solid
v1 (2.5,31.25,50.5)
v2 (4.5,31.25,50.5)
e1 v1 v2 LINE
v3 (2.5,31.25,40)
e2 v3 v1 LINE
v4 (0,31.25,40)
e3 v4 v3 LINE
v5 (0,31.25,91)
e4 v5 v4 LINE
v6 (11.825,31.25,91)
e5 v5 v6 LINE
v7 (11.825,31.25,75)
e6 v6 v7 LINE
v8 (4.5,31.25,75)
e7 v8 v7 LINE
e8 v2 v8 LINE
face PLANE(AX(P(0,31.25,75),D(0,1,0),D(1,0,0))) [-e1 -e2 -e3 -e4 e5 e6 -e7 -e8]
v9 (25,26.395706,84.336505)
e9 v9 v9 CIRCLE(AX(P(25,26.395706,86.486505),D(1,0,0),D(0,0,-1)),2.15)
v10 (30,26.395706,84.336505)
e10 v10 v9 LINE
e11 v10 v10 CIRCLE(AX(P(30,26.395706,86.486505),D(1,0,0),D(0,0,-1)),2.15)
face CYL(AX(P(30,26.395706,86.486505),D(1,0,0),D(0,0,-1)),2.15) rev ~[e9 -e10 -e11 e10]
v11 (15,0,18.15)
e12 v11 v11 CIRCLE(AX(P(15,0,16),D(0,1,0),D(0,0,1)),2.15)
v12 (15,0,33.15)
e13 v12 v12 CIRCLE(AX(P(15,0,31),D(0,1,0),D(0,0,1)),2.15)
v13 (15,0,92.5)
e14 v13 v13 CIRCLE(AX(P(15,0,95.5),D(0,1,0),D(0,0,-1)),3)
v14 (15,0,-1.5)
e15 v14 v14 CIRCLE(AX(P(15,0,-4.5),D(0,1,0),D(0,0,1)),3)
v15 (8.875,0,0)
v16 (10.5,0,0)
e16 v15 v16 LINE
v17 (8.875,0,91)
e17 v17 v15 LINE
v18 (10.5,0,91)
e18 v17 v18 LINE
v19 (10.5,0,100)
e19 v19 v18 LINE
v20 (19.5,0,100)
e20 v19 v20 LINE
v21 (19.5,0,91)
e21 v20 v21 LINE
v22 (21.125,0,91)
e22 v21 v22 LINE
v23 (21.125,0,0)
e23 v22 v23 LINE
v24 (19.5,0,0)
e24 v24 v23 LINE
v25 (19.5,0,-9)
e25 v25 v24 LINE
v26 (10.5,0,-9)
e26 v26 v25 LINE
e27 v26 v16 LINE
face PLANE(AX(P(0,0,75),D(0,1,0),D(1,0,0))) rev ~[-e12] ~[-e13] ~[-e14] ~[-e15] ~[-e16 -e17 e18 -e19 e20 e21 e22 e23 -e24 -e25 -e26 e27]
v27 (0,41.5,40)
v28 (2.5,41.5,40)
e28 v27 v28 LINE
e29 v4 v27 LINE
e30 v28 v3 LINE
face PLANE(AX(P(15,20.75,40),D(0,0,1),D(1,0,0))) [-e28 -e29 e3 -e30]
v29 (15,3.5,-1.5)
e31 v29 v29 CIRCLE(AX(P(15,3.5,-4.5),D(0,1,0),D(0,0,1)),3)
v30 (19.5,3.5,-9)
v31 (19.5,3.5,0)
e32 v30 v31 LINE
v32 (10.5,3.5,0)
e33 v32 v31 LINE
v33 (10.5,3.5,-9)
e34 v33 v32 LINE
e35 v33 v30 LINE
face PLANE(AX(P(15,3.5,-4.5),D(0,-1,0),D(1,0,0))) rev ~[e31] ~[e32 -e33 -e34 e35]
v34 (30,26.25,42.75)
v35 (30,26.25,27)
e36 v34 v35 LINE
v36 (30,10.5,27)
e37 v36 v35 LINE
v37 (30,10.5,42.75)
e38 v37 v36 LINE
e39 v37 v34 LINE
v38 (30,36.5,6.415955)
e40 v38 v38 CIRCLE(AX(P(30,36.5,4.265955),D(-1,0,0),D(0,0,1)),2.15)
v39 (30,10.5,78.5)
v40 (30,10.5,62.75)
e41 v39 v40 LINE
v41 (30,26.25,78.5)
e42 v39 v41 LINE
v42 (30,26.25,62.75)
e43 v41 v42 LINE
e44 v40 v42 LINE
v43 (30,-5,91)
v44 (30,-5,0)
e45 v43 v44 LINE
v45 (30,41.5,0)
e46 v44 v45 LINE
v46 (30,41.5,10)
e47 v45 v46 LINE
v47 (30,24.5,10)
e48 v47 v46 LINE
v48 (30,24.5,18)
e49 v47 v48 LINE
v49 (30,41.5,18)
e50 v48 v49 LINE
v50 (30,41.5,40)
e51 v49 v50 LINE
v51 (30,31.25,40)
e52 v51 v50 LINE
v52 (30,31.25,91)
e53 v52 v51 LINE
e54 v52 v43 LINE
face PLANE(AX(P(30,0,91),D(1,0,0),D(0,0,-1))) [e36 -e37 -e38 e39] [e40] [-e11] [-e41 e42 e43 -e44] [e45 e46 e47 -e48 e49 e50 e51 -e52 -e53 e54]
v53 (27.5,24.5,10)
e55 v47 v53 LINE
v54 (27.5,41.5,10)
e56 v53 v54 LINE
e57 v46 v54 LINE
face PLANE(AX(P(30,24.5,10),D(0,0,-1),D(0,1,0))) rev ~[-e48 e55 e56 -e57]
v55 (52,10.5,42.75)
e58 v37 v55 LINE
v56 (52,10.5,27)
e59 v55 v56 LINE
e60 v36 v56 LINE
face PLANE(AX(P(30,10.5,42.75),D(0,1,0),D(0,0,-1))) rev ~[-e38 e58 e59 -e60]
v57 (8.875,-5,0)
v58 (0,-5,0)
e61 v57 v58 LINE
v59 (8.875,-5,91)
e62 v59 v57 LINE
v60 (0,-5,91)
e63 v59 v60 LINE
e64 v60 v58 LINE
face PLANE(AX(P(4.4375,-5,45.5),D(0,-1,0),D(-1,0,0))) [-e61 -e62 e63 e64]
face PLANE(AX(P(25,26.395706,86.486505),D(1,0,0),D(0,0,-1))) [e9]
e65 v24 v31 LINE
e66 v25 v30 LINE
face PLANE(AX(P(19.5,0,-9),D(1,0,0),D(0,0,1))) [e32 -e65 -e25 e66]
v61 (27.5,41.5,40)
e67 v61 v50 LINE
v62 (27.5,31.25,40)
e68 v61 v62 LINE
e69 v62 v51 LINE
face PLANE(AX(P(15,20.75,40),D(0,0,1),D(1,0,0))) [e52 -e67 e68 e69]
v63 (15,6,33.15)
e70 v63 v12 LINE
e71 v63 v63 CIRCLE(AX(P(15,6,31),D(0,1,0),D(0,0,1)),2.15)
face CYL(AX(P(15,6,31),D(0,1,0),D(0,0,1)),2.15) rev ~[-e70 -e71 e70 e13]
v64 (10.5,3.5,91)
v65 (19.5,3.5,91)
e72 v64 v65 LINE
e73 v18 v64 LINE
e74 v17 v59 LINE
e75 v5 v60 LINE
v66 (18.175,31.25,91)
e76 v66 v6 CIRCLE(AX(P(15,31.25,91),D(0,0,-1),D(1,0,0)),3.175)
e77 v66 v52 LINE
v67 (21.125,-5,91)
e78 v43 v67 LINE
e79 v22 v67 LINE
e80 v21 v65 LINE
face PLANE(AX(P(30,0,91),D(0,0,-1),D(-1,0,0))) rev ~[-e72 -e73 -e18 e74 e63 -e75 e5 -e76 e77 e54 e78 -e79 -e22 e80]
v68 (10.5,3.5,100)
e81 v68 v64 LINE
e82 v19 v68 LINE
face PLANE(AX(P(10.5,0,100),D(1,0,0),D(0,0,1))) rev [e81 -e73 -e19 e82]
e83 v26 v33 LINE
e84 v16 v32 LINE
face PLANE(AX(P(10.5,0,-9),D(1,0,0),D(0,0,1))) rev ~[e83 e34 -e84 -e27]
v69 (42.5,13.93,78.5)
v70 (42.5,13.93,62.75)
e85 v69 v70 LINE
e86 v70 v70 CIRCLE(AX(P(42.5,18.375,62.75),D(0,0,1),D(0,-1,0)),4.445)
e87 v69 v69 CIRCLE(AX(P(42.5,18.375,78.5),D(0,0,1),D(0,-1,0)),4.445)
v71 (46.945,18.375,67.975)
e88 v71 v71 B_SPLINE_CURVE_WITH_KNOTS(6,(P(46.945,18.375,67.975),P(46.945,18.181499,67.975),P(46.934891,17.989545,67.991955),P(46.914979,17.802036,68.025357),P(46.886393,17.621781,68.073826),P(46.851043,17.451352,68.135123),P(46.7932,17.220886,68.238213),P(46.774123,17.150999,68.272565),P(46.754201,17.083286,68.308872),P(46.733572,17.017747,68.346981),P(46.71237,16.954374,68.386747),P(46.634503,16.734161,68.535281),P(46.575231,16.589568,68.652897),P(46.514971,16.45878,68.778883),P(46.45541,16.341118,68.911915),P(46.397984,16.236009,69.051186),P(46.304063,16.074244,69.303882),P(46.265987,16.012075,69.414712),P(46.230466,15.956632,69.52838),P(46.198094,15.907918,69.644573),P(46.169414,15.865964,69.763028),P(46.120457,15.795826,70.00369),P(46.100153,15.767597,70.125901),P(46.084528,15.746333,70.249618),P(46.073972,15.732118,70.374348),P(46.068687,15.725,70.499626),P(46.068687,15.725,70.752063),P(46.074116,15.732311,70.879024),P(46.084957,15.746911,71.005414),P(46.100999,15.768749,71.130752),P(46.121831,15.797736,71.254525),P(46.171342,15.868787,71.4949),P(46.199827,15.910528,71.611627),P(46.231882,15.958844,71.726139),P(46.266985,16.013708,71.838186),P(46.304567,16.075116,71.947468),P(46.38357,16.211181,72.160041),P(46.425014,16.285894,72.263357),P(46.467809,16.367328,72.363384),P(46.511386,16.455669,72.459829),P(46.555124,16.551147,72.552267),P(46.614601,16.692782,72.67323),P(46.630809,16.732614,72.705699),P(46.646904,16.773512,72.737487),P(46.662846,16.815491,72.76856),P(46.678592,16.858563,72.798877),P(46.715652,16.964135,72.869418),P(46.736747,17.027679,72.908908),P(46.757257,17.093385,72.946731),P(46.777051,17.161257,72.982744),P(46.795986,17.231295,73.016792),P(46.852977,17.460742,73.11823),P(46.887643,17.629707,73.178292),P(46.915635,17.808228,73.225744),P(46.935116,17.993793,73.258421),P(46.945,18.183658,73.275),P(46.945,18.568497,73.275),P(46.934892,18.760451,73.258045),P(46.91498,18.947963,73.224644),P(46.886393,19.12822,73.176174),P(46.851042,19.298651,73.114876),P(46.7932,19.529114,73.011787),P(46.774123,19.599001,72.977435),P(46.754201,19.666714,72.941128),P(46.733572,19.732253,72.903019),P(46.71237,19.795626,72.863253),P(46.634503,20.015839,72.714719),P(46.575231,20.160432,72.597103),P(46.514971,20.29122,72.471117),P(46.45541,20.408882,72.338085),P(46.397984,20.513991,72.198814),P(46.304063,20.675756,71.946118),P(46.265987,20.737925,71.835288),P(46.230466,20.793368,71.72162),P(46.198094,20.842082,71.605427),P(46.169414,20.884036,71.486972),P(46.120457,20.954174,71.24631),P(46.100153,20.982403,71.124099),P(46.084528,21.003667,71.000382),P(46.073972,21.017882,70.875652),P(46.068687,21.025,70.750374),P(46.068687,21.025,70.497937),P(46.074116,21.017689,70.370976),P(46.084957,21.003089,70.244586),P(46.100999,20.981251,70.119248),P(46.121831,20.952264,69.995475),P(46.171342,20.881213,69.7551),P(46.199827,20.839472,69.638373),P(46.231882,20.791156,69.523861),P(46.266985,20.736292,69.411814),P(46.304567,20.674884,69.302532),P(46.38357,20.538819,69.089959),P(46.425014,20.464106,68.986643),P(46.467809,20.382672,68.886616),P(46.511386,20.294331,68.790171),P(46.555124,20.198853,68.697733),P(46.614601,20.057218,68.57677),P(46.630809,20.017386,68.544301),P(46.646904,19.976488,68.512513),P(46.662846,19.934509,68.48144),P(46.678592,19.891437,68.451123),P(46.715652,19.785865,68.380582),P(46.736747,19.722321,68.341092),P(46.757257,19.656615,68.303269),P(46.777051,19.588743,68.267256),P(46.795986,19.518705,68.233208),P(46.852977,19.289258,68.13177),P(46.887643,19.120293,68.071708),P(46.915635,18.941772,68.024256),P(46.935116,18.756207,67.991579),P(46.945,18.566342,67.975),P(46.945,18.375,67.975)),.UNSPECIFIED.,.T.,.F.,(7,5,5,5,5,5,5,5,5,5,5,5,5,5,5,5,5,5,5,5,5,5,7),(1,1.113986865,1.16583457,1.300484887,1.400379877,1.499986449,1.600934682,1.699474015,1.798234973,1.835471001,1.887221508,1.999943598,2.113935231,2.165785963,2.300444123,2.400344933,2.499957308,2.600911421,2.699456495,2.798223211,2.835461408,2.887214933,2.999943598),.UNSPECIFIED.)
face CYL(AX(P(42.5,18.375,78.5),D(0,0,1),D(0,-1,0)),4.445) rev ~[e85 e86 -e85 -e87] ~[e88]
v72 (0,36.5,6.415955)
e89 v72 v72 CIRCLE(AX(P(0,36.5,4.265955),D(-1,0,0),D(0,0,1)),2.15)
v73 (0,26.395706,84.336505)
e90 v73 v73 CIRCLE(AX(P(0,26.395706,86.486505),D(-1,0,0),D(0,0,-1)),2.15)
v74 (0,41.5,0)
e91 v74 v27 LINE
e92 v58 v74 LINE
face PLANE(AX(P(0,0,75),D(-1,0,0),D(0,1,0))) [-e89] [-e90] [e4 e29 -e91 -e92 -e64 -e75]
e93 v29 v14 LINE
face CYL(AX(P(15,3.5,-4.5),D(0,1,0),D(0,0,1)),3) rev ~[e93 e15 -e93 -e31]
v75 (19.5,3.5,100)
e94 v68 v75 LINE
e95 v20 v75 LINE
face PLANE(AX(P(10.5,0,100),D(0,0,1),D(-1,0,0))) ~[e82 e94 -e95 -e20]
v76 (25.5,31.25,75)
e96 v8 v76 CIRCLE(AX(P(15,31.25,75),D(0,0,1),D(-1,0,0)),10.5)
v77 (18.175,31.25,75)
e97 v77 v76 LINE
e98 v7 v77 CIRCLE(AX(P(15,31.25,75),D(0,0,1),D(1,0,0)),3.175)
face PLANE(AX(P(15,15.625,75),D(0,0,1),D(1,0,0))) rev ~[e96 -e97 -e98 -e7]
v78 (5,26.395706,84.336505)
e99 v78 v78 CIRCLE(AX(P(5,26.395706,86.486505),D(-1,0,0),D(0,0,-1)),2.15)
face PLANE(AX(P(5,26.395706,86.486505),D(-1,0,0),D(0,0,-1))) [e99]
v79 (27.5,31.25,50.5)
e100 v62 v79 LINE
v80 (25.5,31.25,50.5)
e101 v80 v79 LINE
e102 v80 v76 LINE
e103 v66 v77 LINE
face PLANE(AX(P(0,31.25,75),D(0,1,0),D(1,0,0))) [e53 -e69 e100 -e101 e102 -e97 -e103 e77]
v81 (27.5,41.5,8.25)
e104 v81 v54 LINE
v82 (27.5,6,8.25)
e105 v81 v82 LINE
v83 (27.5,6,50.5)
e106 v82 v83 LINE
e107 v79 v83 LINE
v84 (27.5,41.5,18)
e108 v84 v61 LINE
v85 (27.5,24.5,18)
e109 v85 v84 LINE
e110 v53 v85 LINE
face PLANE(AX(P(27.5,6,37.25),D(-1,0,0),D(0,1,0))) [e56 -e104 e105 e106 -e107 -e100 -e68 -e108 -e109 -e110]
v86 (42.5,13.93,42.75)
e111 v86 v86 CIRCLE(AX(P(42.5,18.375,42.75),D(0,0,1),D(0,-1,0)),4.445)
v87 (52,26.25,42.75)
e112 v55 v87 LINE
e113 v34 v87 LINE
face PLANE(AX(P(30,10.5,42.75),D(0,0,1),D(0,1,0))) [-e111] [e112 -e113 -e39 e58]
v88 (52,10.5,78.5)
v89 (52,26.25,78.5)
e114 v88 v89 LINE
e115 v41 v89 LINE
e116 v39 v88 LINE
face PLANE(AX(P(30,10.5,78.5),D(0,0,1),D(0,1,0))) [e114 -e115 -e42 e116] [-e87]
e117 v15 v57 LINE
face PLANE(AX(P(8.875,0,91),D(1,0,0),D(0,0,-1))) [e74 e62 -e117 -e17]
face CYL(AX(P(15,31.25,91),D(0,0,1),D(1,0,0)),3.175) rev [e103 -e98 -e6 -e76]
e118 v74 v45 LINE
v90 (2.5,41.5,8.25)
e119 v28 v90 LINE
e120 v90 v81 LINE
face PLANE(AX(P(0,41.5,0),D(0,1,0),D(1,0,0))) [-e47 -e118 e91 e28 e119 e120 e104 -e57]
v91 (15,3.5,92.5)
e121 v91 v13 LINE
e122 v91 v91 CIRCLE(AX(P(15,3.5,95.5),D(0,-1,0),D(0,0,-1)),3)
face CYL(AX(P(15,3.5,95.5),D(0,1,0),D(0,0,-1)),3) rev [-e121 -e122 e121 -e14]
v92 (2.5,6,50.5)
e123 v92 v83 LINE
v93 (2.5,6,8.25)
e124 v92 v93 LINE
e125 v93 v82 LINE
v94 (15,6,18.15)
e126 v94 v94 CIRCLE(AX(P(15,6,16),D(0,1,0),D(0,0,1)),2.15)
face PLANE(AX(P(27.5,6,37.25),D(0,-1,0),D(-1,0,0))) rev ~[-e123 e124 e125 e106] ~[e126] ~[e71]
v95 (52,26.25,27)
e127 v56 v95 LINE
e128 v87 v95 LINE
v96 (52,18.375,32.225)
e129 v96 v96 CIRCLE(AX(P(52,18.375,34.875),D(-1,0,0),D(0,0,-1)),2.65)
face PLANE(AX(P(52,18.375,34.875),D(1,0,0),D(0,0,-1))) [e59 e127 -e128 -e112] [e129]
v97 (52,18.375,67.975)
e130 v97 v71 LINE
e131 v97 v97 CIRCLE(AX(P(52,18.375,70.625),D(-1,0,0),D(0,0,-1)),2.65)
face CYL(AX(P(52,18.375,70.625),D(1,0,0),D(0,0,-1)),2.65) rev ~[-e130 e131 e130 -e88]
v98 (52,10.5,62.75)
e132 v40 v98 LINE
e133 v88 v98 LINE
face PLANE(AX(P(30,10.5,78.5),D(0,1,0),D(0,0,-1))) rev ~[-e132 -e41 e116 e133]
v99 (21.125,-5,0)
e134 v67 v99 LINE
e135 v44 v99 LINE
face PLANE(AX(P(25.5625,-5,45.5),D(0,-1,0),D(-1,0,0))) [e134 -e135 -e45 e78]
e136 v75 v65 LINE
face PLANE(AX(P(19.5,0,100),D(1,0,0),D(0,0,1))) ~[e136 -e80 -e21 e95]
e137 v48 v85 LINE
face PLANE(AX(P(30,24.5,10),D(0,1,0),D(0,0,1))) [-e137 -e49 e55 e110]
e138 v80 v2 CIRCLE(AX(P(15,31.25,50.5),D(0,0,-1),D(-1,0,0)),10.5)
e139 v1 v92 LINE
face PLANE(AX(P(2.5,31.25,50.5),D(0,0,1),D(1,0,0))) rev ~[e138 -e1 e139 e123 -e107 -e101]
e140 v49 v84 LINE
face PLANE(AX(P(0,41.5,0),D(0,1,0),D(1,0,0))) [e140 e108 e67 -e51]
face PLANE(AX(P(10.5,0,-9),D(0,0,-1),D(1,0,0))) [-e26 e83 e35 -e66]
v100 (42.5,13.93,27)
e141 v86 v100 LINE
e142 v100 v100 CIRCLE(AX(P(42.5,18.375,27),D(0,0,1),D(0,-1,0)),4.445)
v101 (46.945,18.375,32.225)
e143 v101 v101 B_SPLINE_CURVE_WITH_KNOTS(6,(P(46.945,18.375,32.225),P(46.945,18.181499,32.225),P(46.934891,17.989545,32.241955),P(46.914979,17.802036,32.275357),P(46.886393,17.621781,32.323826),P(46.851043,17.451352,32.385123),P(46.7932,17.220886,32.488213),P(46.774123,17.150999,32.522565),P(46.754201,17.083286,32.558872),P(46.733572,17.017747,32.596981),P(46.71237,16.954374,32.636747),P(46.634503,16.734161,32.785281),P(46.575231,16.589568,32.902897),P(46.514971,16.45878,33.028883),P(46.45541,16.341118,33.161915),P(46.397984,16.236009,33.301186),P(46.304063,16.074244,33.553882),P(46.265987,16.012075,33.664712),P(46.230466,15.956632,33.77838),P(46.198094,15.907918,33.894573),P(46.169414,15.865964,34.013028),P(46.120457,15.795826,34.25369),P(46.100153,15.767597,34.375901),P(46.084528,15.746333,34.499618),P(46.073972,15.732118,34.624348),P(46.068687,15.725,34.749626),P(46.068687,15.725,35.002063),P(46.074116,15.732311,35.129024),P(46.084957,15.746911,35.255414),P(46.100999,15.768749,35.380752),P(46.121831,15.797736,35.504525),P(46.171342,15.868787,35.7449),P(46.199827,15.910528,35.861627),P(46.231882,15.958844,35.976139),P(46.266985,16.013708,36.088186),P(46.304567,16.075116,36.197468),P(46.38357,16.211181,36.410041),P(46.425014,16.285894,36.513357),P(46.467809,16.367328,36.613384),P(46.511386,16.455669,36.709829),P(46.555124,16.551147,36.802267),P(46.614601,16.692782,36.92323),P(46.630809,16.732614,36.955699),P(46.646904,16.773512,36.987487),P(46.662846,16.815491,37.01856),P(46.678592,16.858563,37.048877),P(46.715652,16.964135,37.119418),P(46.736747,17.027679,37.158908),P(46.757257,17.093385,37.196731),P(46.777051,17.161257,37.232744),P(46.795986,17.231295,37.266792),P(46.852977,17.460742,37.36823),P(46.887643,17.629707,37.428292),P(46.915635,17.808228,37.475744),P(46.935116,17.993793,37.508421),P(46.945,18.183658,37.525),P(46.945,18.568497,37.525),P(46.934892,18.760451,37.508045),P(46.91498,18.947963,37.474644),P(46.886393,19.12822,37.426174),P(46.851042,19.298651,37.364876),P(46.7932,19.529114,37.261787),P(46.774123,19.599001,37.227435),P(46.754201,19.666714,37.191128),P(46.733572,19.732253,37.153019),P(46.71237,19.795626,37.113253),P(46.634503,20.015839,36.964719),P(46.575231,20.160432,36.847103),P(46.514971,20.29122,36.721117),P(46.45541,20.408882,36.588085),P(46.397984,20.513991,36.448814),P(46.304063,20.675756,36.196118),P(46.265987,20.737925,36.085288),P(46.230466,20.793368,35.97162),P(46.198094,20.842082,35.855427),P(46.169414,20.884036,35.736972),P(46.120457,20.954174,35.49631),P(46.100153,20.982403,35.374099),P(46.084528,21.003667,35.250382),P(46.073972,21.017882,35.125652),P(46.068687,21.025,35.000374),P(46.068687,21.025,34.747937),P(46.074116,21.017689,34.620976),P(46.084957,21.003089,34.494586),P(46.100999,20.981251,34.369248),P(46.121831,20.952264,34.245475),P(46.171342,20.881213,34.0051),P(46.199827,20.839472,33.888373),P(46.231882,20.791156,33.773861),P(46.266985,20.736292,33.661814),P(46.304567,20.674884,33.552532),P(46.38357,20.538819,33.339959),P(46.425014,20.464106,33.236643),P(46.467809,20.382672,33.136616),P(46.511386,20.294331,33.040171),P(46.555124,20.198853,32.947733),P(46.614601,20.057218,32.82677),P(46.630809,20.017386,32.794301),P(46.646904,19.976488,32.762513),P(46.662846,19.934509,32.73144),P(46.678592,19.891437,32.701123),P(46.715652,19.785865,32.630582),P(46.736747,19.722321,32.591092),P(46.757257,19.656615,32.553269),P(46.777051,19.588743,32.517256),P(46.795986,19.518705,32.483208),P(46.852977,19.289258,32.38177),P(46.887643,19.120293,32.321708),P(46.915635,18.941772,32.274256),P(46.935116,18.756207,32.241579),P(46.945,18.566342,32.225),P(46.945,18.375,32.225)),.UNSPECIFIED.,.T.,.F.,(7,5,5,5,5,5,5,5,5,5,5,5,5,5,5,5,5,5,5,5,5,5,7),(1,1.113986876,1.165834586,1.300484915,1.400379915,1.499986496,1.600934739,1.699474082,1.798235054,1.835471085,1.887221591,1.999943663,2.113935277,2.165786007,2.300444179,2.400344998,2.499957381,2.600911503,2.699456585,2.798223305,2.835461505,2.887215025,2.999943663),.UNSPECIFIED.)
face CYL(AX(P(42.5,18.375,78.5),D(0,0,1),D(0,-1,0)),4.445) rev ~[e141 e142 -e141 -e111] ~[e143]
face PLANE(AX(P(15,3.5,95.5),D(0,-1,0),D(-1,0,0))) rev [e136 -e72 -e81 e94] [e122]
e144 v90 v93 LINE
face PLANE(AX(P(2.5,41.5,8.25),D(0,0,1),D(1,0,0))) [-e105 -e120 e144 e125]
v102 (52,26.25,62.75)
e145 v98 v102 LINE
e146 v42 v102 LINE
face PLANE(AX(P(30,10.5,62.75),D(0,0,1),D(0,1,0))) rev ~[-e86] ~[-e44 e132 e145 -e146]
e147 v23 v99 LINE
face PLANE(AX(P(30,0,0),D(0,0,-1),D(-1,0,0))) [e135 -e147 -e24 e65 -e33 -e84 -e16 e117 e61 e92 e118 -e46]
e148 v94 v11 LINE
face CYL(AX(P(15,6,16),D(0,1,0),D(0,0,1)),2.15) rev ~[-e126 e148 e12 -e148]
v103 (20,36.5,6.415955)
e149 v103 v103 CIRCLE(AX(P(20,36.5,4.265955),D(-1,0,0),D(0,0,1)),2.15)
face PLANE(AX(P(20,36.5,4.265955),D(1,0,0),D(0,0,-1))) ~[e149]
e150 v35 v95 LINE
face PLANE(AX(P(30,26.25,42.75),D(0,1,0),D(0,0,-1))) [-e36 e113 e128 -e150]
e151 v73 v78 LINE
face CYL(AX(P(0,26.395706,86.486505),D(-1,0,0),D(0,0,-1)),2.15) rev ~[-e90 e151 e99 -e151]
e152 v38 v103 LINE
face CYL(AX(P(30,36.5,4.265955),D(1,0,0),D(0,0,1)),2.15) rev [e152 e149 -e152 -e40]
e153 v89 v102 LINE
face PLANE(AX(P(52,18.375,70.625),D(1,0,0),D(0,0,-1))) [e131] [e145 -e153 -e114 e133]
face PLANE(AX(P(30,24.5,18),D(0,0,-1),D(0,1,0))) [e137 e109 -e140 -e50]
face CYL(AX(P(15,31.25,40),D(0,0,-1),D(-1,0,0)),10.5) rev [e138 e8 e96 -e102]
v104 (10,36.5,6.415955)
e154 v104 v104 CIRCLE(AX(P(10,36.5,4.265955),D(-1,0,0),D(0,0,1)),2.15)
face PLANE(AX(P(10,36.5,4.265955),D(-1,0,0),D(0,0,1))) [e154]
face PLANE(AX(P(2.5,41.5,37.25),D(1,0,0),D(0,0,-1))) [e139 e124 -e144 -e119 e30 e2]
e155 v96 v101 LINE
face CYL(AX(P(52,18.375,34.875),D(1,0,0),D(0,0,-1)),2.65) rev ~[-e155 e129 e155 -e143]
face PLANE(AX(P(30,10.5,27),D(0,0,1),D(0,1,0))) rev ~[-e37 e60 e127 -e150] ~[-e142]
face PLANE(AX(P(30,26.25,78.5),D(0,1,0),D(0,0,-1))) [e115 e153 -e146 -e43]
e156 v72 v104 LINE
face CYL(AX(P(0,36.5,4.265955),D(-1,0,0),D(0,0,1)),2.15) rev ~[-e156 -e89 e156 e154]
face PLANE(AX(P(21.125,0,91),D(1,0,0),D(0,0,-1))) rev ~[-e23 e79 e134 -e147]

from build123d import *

# Parameters (mm, degrees)
SKETCH1_W                = 30
SKETCH1_H                = 41.5
BOSS_EXTRUDE1_DEPTH      = 40
SKETCH2_W                = 25
SKETCH2_H                = 29
CUT_EXTRUDE1_DEPTH       = 35.5
SKETCH3_W                = 25
SKETCH3_H                = 35.5
CUT_EXTRUDE2_DEPTH       = 19
SKETCH7_W                = 9
SKETCH7_H                = 9
BOSS_EXTRUDE2_DEPTH      = 3.5
SKETCH8_R                = 3
CUT_EXTRUDE3_DEPTH       = 7
BOSS_EXTRUDE3_DEPTH      = 35
SKETCH10_W               = 30
SKETCH10_H               = 31.25
BOSS_EXTRUDE4_DEPTH      = 16
CUT_EXTRUDE4_DEPTH       = 25
SKETCH12_W               = 8
SKETCH12_H               = 17
CUT_EXTRUDE5_DEPTH       = 2.5
SKETCH13_R               = 2.15
CUT_EXTRUDE6_DEPTH       = 10
SKETCH17_W               = 15.75
SKETCH17_H               = 15.75
BOSS_EXTRUDE5_DEPTH      = 22
SKETCH18_R               = 4.445
CUT_EXTRUDE7_DEPTH       = 62.75
SKETCH19_R               = 2.15
CUT_EXTRUDE8_DEPTH       = 5
SKETCH21_R               = 2.15
CUT_EXTRUDE9_DEPTH       = 5
SKETCH23_W               = 8.875
SKETCH23_H               = 91
BOSS_EXTRUDE6_DEPTH      = 5
CUT_EXTRUDE10_REACH      = 122.109
CUT_EXTRUDE10_END_RADIUS = 4.445
SKETCH25_R               = 2.15
CUT_EXTRUDE11_DEPTH      = 119.170427817
SKETCH26_W               = 25
SKETCH26_H               = 2.5
CUT_EXTRUDE12_DEPTH      = 25.25
SKETCH27_W               = 25
SKETCH27_H               = 8
CUT_EXTRUDE13_DEPTH      = 25.25


with BuildPart() as part:
    # Sketch1 → Boss-Extrude1 (new body)
    with BuildSketch(Plane.XY):
        with Locations((15, 20.75)):
            Rectangle(SKETCH1_W, SKETCH1_H)
    extrude(amount=BOSS_EXTRUDE1_DEPTH)

    # Sketch2 → Cut-Extrude1 (cut)
    with BuildSketch(Plane(origin=(0, 41.5, 0), x_dir=(1, 0, 0), z_dir=(0, 1, 0))):
        with Locations((15, -22.75)):
            Rectangle(SKETCH2_W, SKETCH2_H)
    extrude(amount=-CUT_EXTRUDE1_DEPTH, mode=Mode.SUBTRACT)

    # Sketch3 → Cut-Extrude2 (cut)
    with BuildSketch(Plane(origin=(0, 0, 37.25), x_dir=(-1, 0, 0), z_dir=(0, 0, -1))):
        with Locations((-15, 23.75)):
            Rectangle(SKETCH3_W, SKETCH3_H)
    extrude(amount=-CUT_EXTRUDE2_DEPTH, mode=Mode.SUBTRACT)

    # Sketch7 → Boss-Extrude2 (add)
    with BuildSketch(Plane.XZ):
        with Locations((15, -4.5)):
            Rectangle(SKETCH7_W, SKETCH7_H)
    boss_extrude2 = extrude(amount=-BOSS_EXTRUDE2_DEPTH)

    # Sketch8 → Cut-Extrude3 (cut)
    with BuildSketch(Plane(origin=(0, 3.5, 0), x_dir=(1, 0, 0), z_dir=(0, 1, 0))):
        with Locations(Location((15, 4.5, 0), (0, 0, 270))):
            Circle(SKETCH8_R)
    cut_extrude3 = extrude(amount=-CUT_EXTRUDE3_DEPTH, mode=Mode.SUBTRACT)

    # Sketch9 → Boss-Extrude3 (add)
    with BuildSketch(Plane.XY.offset(40)):
        with BuildLine():
            Line((0, 0), (0, 31.25))
            Line((0, 31.25), (4.5, 31.25))
            ThreePointArc((4.5, 31.25), (15, 20.75), (25.5, 31.25))
            Line((25.5, 31.25), (30, 31.25))
            Line((30, 31.25), (30, 0))
            Line((30, 0), (0, 0))
        make_face()
    extrude(amount=BOSS_EXTRUDE3_DEPTH)

    # Sketch10 → Boss-Extrude4 (add)
    with BuildSketch(Plane.XY.offset(75)):
        with Locations((15, 15.625)):
            Rectangle(SKETCH10_W, SKETCH10_H)
    extrude(amount=BOSS_EXTRUDE4_DEPTH)

    # Mirror1: Boss-Extrude2, Cut-Extrude3 across plane
    add(boss_extrude2.mirror(Plane.XY.offset(45.5)))
    add(cut_extrude3.mirror(Plane.XY.offset(45.5)), mode=Mode.SUBTRACT)

    # Sketch11 → Cut-Extrude4 (cut)
    with BuildSketch(Plane.XY.offset(91)):
        with BuildLine():
            Line((11.825, 31.25), (18.175, 31.25))
            ThreePointArc((18.175, 31.25), (15, 28.075), (11.825, 31.25))
        make_face()
    extrude(amount=-CUT_EXTRUDE4_DEPTH, mode=Mode.SUBTRACT)

    # Sketch12 → Cut-Extrude5 (cut)
    with BuildSketch(Plane.ZY.offset(-30)):
        with Locations((14, 33)):
            Rectangle(SKETCH12_W, SKETCH12_H)
    extrude(amount=CUT_EXTRUDE5_DEPTH, mode=Mode.SUBTRACT)

    # Sketch13 → Cut-Extrude6 (cut)
    with BuildSketch(Plane.ZY):
        with Locations((4.265954999, 36.5)):
            Circle(SKETCH13_R)
    cut_extrude6 = extrude(amount=-CUT_EXTRUDE6_DEPTH, mode=Mode.SUBTRACT)

    # Mirror2: Cut-Extrude6 across plane
    add(cut_extrude6.mirror(Plane(origin=(15, 0, 0), x_dir=(0, 0, 1), z_dir=(1, 0, 0))), mode=Mode.SUBTRACT)

    # Sketch17 → Boss-Extrude5 (add)
    with BuildSketch(Plane(origin=(30, 0, 0), x_dir=(0, 0, -1), z_dir=(1, 0, 0))):
        with Locations((-70.625, 18.375)):
            Rectangle(SKETCH17_W, SKETCH17_H)
        with Locations((-34.875, 18.375)):
            Rectangle(SKETCH17_W, SKETCH17_H)
    extrude(amount=BOSS_EXTRUDE5_DEPTH)

    # Sketch18 → Cut-Extrude7 (cut)
    with BuildSketch(Plane.XY.offset(78.5)):
        with Locations(Location((42.5, 18.375, 0), (0, 0, 270))):
            Circle(SKETCH18_R)
    extrude(amount=-CUT_EXTRUDE7_DEPTH, mode=Mode.SUBTRACT)

    # Sketch19 → Cut-Extrude8 (cut)
    with BuildSketch(Plane(origin=(30, 0, 0), x_dir=(0, 0, -1), z_dir=(1, 0, 0))):
        with Locations((-86.486504599, 26.395706225)):
            Circle(SKETCH19_R)
    extrude(amount=-CUT_EXTRUDE8_DEPTH, mode=Mode.SUBTRACT)

    # Sketch21 → Cut-Extrude9 (cut)
    with BuildSketch(Plane.ZY):
        with Locations(Location((86.486504599, 26.395706225, 0), (0, 0, 180))):
            Circle(SKETCH21_R)
    extrude(amount=-CUT_EXTRUDE9_DEPTH, mode=Mode.SUBTRACT)

    # Sketch23 → Boss-Extrude6 (add)
    with BuildSketch(Plane(origin=(0, 0, 0), x_dir=(-1, 0, 0), z_dir=(0, -1, 0))):
        with Locations((-25.5625, -45.5)):
            Rectangle(SKETCH23_W, SKETCH23_H)
        with Locations((-4.4375, -45.5)):
            Rectangle(SKETCH23_W, SKETCH23_H)
    extrude(amount=BOSS_EXTRUDE6_DEPTH)

    # Cut-Extrude10: up to this cylinder (the profile starts outside it)
    cut_extrude10_end = Plane(origin=(42.5, 18.375, 52.75), z_dir=(0, 0, 1)) * Cylinder(CUT_EXTRUDE10_END_RADIUS, 289.858, mode=Mode.PRIVATE)
    # Sketch24 → Cut-Extrude10 (cut, up to the surface)
    with BuildSketch(Plane(origin=(52, 0, 0), x_dir=(0, 0, -1), z_dir=(1, 0, 0)), mode=Mode.PRIVATE) as cut_extrude10_sk1:
        with BuildLine():
            ThreePointArc((-67.975, 18.375), (-70.625, 21.025), (-73.275, 18.375))
            Line((-73.275, 18.375), (-67.975, 18.375))
        make_face()
    cut_extrude10_tool1 = extrude(cut_extrude10_sk1.sketch, amount=-CUT_EXTRUDE10_REACH, mode=Mode.PRIVATE) - cut_extrude10_end
    add(cut_extrude10_tool1.solids().sort_by_distance((52, 19.499695, 70.625))[0], mode=Mode.SUBTRACT)
    # Sketch24 → Cut-Extrude10 (cut, up to the surface)
    with BuildSketch(Plane(origin=(52, 0, 0), x_dir=(0, 0, -1), z_dir=(1, 0, 0)), mode=Mode.PRIVATE) as cut_extrude10_sk2:
        with BuildLine():
            Line((-67.975, 18.375), (-73.275, 18.375))
            ThreePointArc((-73.275, 18.375), (-70.625, 15.725), (-67.975, 18.375))
        make_face()
    cut_extrude10_tool2 = extrude(cut_extrude10_sk2.sketch, amount=-CUT_EXTRUDE10_REACH, mode=Mode.PRIVATE) - cut_extrude10_end
    add(cut_extrude10_tool2.solids().sort_by_distance((52, 17.250305, 70.625))[0], mode=Mode.SUBTRACT)
    # Sketch24 → Cut-Extrude10 (cut, up to the surface)
    with BuildSketch(Plane(origin=(52, 0, 0), x_dir=(0, 0, -1), z_dir=(1, 0, 0)), mode=Mode.PRIVATE) as cut_extrude10_sk3:
        with BuildLine():
            ThreePointArc((-32.225, 18.375), (-34.875, 21.025), (-37.525, 18.375))
            Line((-37.525, 18.375), (-32.225, 18.375))
        make_face()
    cut_extrude10_tool3 = extrude(cut_extrude10_sk3.sketch, amount=-CUT_EXTRUDE10_REACH, mode=Mode.PRIVATE) - cut_extrude10_end
    add(cut_extrude10_tool3.solids().sort_by_distance((52, 19.499695, 34.875))[0], mode=Mode.SUBTRACT)
    # Sketch24 → Cut-Extrude10 (cut, up to the surface)
    with BuildSketch(Plane(origin=(52, 0, 0), x_dir=(0, 0, -1), z_dir=(1, 0, 0)), mode=Mode.PRIVATE) as cut_extrude10_sk4:
        with BuildLine():
            Line((-32.225, 18.375), (-37.525, 18.375))
            ThreePointArc((-37.525, 18.375), (-34.875, 15.725), (-32.225, 18.375))
        make_face()
    cut_extrude10_tool4 = extrude(cut_extrude10_sk4.sketch, amount=-CUT_EXTRUDE10_REACH, mode=Mode.PRIVATE) - cut_extrude10_end
    add(cut_extrude10_tool4.solids().sort_by_distance((52, 17.250305, 34.875))[0], mode=Mode.SUBTRACT)
    # Sketch24 → Cut-Extrude10 (cut, up to the surface)
    with BuildSketch(Plane(origin=(52, 0, 0), x_dir=(0, 0, -1), z_dir=(1, 0, 0)), mode=Mode.PRIVATE) as cut_extrude10_sk5:
        with BuildLine():
            ThreePointArc((-32.225, 18.375), (-34.875, 21.025), (-37.525, 18.375))
            Line((-37.525, 18.375), (-32.225, 18.375))
        make_face()
    cut_extrude10_tool5 = extrude(cut_extrude10_sk5.sketch, amount=-CUT_EXTRUDE10_REACH, mode=Mode.PRIVATE) - cut_extrude10_end
    add(cut_extrude10_tool5.solids().sort_by_distance((52, 19.499695, 34.875))[0], mode=Mode.SUBTRACT)
    # Sketch24 → Cut-Extrude10 (cut, up to the surface)
    with BuildSketch(Plane(origin=(52, 0, 0), x_dir=(0, 0, -1), z_dir=(1, 0, 0)), mode=Mode.PRIVATE) as cut_extrude10_sk6:
        with BuildLine():
            Line((-32.225, 18.375), (-37.525, 18.375))
            ThreePointArc((-37.525, 18.375), (-34.875, 15.725), (-32.225, 18.375))
        make_face()
    cut_extrude10_tool6 = extrude(cut_extrude10_sk6.sketch, amount=-CUT_EXTRUDE10_REACH, mode=Mode.PRIVATE) - cut_extrude10_end
    add(cut_extrude10_tool6.solids().sort_by_distance((52, 17.250305, 34.875))[0], mode=Mode.SUBTRACT)
    # Sketch24 → Cut-Extrude10 (cut, up to the surface)
    with BuildSketch(Plane(origin=(52, 0, 0), x_dir=(0, 0, -1), z_dir=(1, 0, 0)), mode=Mode.PRIVATE) as cut_extrude10_sk7:
        with BuildLine():
            ThreePointArc((-67.975, 18.375), (-70.625, 21.025), (-73.275, 18.375))
            Line((-73.275, 18.375), (-67.975, 18.375))
        make_face()
    cut_extrude10_tool7 = extrude(cut_extrude10_sk7.sketch, amount=-CUT_EXTRUDE10_REACH, mode=Mode.PRIVATE) - cut_extrude10_end
    add(cut_extrude10_tool7.solids().sort_by_distance((52, 19.499695, 70.625))[0], mode=Mode.SUBTRACT)
    # Sketch24 → Cut-Extrude10 (cut, up to the surface)
    with BuildSketch(Plane(origin=(52, 0, 0), x_dir=(0, 0, -1), z_dir=(1, 0, 0)), mode=Mode.PRIVATE) as cut_extrude10_sk8:
        with BuildLine():
            Line((-67.975, 18.375), (-73.275, 18.375))
            ThreePointArc((-73.275, 18.375), (-70.625, 15.725), (-67.975, 18.375))
        make_face()
    cut_extrude10_tool8 = extrude(cut_extrude10_sk8.sketch, amount=-CUT_EXTRUDE10_REACH, mode=Mode.PRIVATE) - cut_extrude10_end
    add(cut_extrude10_tool8.solids().sort_by_distance((52, 17.250305, 70.625))[0], mode=Mode.SUBTRACT)

    # Sketch25 → Cut-Extrude11 (cut, through all)
    with BuildSketch(Plane(origin=(0, 6, 0), x_dir=(1, 0, 0), z_dir=(0, 1, 0))):
        with Locations(Location((15, -16, 0), (0, 0, 270))):
            Circle(SKETCH25_R)
        with Locations(Location((15, -31, 0), (0, 0, 270))):
            Circle(SKETCH25_R)
    extrude(amount=-CUT_EXTRUDE11_DEPTH, mode=Mode.SUBTRACT)

    # Sketch26 → Cut-Extrude12 (cut)
    with BuildSketch(Plane(origin=(0, 31.25, 0), x_dir=(1, 0, 0), z_dir=(0, 1, 0))):
        with Locations((15, -41.25)):
            Rectangle(SKETCH26_W, SKETCH26_H)
    extrude(amount=-CUT_EXTRUDE12_DEPTH, mode=Mode.SUBTRACT)

    # Sketch27 → Cut-Extrude13 (cut)
    with BuildSketch(Plane(origin=(0, 31.25, 0), x_dir=(1, 0, 0), z_dir=(0, 1, 0))):
        with Locations((15, -46.5)):
            Rectangle(SKETCH27_W, SKETCH27_H)
    extrude(amount=-CUT_EXTRUDE13_DEPTH, mode=Mode.SUBTRACT)


solid = part.part
